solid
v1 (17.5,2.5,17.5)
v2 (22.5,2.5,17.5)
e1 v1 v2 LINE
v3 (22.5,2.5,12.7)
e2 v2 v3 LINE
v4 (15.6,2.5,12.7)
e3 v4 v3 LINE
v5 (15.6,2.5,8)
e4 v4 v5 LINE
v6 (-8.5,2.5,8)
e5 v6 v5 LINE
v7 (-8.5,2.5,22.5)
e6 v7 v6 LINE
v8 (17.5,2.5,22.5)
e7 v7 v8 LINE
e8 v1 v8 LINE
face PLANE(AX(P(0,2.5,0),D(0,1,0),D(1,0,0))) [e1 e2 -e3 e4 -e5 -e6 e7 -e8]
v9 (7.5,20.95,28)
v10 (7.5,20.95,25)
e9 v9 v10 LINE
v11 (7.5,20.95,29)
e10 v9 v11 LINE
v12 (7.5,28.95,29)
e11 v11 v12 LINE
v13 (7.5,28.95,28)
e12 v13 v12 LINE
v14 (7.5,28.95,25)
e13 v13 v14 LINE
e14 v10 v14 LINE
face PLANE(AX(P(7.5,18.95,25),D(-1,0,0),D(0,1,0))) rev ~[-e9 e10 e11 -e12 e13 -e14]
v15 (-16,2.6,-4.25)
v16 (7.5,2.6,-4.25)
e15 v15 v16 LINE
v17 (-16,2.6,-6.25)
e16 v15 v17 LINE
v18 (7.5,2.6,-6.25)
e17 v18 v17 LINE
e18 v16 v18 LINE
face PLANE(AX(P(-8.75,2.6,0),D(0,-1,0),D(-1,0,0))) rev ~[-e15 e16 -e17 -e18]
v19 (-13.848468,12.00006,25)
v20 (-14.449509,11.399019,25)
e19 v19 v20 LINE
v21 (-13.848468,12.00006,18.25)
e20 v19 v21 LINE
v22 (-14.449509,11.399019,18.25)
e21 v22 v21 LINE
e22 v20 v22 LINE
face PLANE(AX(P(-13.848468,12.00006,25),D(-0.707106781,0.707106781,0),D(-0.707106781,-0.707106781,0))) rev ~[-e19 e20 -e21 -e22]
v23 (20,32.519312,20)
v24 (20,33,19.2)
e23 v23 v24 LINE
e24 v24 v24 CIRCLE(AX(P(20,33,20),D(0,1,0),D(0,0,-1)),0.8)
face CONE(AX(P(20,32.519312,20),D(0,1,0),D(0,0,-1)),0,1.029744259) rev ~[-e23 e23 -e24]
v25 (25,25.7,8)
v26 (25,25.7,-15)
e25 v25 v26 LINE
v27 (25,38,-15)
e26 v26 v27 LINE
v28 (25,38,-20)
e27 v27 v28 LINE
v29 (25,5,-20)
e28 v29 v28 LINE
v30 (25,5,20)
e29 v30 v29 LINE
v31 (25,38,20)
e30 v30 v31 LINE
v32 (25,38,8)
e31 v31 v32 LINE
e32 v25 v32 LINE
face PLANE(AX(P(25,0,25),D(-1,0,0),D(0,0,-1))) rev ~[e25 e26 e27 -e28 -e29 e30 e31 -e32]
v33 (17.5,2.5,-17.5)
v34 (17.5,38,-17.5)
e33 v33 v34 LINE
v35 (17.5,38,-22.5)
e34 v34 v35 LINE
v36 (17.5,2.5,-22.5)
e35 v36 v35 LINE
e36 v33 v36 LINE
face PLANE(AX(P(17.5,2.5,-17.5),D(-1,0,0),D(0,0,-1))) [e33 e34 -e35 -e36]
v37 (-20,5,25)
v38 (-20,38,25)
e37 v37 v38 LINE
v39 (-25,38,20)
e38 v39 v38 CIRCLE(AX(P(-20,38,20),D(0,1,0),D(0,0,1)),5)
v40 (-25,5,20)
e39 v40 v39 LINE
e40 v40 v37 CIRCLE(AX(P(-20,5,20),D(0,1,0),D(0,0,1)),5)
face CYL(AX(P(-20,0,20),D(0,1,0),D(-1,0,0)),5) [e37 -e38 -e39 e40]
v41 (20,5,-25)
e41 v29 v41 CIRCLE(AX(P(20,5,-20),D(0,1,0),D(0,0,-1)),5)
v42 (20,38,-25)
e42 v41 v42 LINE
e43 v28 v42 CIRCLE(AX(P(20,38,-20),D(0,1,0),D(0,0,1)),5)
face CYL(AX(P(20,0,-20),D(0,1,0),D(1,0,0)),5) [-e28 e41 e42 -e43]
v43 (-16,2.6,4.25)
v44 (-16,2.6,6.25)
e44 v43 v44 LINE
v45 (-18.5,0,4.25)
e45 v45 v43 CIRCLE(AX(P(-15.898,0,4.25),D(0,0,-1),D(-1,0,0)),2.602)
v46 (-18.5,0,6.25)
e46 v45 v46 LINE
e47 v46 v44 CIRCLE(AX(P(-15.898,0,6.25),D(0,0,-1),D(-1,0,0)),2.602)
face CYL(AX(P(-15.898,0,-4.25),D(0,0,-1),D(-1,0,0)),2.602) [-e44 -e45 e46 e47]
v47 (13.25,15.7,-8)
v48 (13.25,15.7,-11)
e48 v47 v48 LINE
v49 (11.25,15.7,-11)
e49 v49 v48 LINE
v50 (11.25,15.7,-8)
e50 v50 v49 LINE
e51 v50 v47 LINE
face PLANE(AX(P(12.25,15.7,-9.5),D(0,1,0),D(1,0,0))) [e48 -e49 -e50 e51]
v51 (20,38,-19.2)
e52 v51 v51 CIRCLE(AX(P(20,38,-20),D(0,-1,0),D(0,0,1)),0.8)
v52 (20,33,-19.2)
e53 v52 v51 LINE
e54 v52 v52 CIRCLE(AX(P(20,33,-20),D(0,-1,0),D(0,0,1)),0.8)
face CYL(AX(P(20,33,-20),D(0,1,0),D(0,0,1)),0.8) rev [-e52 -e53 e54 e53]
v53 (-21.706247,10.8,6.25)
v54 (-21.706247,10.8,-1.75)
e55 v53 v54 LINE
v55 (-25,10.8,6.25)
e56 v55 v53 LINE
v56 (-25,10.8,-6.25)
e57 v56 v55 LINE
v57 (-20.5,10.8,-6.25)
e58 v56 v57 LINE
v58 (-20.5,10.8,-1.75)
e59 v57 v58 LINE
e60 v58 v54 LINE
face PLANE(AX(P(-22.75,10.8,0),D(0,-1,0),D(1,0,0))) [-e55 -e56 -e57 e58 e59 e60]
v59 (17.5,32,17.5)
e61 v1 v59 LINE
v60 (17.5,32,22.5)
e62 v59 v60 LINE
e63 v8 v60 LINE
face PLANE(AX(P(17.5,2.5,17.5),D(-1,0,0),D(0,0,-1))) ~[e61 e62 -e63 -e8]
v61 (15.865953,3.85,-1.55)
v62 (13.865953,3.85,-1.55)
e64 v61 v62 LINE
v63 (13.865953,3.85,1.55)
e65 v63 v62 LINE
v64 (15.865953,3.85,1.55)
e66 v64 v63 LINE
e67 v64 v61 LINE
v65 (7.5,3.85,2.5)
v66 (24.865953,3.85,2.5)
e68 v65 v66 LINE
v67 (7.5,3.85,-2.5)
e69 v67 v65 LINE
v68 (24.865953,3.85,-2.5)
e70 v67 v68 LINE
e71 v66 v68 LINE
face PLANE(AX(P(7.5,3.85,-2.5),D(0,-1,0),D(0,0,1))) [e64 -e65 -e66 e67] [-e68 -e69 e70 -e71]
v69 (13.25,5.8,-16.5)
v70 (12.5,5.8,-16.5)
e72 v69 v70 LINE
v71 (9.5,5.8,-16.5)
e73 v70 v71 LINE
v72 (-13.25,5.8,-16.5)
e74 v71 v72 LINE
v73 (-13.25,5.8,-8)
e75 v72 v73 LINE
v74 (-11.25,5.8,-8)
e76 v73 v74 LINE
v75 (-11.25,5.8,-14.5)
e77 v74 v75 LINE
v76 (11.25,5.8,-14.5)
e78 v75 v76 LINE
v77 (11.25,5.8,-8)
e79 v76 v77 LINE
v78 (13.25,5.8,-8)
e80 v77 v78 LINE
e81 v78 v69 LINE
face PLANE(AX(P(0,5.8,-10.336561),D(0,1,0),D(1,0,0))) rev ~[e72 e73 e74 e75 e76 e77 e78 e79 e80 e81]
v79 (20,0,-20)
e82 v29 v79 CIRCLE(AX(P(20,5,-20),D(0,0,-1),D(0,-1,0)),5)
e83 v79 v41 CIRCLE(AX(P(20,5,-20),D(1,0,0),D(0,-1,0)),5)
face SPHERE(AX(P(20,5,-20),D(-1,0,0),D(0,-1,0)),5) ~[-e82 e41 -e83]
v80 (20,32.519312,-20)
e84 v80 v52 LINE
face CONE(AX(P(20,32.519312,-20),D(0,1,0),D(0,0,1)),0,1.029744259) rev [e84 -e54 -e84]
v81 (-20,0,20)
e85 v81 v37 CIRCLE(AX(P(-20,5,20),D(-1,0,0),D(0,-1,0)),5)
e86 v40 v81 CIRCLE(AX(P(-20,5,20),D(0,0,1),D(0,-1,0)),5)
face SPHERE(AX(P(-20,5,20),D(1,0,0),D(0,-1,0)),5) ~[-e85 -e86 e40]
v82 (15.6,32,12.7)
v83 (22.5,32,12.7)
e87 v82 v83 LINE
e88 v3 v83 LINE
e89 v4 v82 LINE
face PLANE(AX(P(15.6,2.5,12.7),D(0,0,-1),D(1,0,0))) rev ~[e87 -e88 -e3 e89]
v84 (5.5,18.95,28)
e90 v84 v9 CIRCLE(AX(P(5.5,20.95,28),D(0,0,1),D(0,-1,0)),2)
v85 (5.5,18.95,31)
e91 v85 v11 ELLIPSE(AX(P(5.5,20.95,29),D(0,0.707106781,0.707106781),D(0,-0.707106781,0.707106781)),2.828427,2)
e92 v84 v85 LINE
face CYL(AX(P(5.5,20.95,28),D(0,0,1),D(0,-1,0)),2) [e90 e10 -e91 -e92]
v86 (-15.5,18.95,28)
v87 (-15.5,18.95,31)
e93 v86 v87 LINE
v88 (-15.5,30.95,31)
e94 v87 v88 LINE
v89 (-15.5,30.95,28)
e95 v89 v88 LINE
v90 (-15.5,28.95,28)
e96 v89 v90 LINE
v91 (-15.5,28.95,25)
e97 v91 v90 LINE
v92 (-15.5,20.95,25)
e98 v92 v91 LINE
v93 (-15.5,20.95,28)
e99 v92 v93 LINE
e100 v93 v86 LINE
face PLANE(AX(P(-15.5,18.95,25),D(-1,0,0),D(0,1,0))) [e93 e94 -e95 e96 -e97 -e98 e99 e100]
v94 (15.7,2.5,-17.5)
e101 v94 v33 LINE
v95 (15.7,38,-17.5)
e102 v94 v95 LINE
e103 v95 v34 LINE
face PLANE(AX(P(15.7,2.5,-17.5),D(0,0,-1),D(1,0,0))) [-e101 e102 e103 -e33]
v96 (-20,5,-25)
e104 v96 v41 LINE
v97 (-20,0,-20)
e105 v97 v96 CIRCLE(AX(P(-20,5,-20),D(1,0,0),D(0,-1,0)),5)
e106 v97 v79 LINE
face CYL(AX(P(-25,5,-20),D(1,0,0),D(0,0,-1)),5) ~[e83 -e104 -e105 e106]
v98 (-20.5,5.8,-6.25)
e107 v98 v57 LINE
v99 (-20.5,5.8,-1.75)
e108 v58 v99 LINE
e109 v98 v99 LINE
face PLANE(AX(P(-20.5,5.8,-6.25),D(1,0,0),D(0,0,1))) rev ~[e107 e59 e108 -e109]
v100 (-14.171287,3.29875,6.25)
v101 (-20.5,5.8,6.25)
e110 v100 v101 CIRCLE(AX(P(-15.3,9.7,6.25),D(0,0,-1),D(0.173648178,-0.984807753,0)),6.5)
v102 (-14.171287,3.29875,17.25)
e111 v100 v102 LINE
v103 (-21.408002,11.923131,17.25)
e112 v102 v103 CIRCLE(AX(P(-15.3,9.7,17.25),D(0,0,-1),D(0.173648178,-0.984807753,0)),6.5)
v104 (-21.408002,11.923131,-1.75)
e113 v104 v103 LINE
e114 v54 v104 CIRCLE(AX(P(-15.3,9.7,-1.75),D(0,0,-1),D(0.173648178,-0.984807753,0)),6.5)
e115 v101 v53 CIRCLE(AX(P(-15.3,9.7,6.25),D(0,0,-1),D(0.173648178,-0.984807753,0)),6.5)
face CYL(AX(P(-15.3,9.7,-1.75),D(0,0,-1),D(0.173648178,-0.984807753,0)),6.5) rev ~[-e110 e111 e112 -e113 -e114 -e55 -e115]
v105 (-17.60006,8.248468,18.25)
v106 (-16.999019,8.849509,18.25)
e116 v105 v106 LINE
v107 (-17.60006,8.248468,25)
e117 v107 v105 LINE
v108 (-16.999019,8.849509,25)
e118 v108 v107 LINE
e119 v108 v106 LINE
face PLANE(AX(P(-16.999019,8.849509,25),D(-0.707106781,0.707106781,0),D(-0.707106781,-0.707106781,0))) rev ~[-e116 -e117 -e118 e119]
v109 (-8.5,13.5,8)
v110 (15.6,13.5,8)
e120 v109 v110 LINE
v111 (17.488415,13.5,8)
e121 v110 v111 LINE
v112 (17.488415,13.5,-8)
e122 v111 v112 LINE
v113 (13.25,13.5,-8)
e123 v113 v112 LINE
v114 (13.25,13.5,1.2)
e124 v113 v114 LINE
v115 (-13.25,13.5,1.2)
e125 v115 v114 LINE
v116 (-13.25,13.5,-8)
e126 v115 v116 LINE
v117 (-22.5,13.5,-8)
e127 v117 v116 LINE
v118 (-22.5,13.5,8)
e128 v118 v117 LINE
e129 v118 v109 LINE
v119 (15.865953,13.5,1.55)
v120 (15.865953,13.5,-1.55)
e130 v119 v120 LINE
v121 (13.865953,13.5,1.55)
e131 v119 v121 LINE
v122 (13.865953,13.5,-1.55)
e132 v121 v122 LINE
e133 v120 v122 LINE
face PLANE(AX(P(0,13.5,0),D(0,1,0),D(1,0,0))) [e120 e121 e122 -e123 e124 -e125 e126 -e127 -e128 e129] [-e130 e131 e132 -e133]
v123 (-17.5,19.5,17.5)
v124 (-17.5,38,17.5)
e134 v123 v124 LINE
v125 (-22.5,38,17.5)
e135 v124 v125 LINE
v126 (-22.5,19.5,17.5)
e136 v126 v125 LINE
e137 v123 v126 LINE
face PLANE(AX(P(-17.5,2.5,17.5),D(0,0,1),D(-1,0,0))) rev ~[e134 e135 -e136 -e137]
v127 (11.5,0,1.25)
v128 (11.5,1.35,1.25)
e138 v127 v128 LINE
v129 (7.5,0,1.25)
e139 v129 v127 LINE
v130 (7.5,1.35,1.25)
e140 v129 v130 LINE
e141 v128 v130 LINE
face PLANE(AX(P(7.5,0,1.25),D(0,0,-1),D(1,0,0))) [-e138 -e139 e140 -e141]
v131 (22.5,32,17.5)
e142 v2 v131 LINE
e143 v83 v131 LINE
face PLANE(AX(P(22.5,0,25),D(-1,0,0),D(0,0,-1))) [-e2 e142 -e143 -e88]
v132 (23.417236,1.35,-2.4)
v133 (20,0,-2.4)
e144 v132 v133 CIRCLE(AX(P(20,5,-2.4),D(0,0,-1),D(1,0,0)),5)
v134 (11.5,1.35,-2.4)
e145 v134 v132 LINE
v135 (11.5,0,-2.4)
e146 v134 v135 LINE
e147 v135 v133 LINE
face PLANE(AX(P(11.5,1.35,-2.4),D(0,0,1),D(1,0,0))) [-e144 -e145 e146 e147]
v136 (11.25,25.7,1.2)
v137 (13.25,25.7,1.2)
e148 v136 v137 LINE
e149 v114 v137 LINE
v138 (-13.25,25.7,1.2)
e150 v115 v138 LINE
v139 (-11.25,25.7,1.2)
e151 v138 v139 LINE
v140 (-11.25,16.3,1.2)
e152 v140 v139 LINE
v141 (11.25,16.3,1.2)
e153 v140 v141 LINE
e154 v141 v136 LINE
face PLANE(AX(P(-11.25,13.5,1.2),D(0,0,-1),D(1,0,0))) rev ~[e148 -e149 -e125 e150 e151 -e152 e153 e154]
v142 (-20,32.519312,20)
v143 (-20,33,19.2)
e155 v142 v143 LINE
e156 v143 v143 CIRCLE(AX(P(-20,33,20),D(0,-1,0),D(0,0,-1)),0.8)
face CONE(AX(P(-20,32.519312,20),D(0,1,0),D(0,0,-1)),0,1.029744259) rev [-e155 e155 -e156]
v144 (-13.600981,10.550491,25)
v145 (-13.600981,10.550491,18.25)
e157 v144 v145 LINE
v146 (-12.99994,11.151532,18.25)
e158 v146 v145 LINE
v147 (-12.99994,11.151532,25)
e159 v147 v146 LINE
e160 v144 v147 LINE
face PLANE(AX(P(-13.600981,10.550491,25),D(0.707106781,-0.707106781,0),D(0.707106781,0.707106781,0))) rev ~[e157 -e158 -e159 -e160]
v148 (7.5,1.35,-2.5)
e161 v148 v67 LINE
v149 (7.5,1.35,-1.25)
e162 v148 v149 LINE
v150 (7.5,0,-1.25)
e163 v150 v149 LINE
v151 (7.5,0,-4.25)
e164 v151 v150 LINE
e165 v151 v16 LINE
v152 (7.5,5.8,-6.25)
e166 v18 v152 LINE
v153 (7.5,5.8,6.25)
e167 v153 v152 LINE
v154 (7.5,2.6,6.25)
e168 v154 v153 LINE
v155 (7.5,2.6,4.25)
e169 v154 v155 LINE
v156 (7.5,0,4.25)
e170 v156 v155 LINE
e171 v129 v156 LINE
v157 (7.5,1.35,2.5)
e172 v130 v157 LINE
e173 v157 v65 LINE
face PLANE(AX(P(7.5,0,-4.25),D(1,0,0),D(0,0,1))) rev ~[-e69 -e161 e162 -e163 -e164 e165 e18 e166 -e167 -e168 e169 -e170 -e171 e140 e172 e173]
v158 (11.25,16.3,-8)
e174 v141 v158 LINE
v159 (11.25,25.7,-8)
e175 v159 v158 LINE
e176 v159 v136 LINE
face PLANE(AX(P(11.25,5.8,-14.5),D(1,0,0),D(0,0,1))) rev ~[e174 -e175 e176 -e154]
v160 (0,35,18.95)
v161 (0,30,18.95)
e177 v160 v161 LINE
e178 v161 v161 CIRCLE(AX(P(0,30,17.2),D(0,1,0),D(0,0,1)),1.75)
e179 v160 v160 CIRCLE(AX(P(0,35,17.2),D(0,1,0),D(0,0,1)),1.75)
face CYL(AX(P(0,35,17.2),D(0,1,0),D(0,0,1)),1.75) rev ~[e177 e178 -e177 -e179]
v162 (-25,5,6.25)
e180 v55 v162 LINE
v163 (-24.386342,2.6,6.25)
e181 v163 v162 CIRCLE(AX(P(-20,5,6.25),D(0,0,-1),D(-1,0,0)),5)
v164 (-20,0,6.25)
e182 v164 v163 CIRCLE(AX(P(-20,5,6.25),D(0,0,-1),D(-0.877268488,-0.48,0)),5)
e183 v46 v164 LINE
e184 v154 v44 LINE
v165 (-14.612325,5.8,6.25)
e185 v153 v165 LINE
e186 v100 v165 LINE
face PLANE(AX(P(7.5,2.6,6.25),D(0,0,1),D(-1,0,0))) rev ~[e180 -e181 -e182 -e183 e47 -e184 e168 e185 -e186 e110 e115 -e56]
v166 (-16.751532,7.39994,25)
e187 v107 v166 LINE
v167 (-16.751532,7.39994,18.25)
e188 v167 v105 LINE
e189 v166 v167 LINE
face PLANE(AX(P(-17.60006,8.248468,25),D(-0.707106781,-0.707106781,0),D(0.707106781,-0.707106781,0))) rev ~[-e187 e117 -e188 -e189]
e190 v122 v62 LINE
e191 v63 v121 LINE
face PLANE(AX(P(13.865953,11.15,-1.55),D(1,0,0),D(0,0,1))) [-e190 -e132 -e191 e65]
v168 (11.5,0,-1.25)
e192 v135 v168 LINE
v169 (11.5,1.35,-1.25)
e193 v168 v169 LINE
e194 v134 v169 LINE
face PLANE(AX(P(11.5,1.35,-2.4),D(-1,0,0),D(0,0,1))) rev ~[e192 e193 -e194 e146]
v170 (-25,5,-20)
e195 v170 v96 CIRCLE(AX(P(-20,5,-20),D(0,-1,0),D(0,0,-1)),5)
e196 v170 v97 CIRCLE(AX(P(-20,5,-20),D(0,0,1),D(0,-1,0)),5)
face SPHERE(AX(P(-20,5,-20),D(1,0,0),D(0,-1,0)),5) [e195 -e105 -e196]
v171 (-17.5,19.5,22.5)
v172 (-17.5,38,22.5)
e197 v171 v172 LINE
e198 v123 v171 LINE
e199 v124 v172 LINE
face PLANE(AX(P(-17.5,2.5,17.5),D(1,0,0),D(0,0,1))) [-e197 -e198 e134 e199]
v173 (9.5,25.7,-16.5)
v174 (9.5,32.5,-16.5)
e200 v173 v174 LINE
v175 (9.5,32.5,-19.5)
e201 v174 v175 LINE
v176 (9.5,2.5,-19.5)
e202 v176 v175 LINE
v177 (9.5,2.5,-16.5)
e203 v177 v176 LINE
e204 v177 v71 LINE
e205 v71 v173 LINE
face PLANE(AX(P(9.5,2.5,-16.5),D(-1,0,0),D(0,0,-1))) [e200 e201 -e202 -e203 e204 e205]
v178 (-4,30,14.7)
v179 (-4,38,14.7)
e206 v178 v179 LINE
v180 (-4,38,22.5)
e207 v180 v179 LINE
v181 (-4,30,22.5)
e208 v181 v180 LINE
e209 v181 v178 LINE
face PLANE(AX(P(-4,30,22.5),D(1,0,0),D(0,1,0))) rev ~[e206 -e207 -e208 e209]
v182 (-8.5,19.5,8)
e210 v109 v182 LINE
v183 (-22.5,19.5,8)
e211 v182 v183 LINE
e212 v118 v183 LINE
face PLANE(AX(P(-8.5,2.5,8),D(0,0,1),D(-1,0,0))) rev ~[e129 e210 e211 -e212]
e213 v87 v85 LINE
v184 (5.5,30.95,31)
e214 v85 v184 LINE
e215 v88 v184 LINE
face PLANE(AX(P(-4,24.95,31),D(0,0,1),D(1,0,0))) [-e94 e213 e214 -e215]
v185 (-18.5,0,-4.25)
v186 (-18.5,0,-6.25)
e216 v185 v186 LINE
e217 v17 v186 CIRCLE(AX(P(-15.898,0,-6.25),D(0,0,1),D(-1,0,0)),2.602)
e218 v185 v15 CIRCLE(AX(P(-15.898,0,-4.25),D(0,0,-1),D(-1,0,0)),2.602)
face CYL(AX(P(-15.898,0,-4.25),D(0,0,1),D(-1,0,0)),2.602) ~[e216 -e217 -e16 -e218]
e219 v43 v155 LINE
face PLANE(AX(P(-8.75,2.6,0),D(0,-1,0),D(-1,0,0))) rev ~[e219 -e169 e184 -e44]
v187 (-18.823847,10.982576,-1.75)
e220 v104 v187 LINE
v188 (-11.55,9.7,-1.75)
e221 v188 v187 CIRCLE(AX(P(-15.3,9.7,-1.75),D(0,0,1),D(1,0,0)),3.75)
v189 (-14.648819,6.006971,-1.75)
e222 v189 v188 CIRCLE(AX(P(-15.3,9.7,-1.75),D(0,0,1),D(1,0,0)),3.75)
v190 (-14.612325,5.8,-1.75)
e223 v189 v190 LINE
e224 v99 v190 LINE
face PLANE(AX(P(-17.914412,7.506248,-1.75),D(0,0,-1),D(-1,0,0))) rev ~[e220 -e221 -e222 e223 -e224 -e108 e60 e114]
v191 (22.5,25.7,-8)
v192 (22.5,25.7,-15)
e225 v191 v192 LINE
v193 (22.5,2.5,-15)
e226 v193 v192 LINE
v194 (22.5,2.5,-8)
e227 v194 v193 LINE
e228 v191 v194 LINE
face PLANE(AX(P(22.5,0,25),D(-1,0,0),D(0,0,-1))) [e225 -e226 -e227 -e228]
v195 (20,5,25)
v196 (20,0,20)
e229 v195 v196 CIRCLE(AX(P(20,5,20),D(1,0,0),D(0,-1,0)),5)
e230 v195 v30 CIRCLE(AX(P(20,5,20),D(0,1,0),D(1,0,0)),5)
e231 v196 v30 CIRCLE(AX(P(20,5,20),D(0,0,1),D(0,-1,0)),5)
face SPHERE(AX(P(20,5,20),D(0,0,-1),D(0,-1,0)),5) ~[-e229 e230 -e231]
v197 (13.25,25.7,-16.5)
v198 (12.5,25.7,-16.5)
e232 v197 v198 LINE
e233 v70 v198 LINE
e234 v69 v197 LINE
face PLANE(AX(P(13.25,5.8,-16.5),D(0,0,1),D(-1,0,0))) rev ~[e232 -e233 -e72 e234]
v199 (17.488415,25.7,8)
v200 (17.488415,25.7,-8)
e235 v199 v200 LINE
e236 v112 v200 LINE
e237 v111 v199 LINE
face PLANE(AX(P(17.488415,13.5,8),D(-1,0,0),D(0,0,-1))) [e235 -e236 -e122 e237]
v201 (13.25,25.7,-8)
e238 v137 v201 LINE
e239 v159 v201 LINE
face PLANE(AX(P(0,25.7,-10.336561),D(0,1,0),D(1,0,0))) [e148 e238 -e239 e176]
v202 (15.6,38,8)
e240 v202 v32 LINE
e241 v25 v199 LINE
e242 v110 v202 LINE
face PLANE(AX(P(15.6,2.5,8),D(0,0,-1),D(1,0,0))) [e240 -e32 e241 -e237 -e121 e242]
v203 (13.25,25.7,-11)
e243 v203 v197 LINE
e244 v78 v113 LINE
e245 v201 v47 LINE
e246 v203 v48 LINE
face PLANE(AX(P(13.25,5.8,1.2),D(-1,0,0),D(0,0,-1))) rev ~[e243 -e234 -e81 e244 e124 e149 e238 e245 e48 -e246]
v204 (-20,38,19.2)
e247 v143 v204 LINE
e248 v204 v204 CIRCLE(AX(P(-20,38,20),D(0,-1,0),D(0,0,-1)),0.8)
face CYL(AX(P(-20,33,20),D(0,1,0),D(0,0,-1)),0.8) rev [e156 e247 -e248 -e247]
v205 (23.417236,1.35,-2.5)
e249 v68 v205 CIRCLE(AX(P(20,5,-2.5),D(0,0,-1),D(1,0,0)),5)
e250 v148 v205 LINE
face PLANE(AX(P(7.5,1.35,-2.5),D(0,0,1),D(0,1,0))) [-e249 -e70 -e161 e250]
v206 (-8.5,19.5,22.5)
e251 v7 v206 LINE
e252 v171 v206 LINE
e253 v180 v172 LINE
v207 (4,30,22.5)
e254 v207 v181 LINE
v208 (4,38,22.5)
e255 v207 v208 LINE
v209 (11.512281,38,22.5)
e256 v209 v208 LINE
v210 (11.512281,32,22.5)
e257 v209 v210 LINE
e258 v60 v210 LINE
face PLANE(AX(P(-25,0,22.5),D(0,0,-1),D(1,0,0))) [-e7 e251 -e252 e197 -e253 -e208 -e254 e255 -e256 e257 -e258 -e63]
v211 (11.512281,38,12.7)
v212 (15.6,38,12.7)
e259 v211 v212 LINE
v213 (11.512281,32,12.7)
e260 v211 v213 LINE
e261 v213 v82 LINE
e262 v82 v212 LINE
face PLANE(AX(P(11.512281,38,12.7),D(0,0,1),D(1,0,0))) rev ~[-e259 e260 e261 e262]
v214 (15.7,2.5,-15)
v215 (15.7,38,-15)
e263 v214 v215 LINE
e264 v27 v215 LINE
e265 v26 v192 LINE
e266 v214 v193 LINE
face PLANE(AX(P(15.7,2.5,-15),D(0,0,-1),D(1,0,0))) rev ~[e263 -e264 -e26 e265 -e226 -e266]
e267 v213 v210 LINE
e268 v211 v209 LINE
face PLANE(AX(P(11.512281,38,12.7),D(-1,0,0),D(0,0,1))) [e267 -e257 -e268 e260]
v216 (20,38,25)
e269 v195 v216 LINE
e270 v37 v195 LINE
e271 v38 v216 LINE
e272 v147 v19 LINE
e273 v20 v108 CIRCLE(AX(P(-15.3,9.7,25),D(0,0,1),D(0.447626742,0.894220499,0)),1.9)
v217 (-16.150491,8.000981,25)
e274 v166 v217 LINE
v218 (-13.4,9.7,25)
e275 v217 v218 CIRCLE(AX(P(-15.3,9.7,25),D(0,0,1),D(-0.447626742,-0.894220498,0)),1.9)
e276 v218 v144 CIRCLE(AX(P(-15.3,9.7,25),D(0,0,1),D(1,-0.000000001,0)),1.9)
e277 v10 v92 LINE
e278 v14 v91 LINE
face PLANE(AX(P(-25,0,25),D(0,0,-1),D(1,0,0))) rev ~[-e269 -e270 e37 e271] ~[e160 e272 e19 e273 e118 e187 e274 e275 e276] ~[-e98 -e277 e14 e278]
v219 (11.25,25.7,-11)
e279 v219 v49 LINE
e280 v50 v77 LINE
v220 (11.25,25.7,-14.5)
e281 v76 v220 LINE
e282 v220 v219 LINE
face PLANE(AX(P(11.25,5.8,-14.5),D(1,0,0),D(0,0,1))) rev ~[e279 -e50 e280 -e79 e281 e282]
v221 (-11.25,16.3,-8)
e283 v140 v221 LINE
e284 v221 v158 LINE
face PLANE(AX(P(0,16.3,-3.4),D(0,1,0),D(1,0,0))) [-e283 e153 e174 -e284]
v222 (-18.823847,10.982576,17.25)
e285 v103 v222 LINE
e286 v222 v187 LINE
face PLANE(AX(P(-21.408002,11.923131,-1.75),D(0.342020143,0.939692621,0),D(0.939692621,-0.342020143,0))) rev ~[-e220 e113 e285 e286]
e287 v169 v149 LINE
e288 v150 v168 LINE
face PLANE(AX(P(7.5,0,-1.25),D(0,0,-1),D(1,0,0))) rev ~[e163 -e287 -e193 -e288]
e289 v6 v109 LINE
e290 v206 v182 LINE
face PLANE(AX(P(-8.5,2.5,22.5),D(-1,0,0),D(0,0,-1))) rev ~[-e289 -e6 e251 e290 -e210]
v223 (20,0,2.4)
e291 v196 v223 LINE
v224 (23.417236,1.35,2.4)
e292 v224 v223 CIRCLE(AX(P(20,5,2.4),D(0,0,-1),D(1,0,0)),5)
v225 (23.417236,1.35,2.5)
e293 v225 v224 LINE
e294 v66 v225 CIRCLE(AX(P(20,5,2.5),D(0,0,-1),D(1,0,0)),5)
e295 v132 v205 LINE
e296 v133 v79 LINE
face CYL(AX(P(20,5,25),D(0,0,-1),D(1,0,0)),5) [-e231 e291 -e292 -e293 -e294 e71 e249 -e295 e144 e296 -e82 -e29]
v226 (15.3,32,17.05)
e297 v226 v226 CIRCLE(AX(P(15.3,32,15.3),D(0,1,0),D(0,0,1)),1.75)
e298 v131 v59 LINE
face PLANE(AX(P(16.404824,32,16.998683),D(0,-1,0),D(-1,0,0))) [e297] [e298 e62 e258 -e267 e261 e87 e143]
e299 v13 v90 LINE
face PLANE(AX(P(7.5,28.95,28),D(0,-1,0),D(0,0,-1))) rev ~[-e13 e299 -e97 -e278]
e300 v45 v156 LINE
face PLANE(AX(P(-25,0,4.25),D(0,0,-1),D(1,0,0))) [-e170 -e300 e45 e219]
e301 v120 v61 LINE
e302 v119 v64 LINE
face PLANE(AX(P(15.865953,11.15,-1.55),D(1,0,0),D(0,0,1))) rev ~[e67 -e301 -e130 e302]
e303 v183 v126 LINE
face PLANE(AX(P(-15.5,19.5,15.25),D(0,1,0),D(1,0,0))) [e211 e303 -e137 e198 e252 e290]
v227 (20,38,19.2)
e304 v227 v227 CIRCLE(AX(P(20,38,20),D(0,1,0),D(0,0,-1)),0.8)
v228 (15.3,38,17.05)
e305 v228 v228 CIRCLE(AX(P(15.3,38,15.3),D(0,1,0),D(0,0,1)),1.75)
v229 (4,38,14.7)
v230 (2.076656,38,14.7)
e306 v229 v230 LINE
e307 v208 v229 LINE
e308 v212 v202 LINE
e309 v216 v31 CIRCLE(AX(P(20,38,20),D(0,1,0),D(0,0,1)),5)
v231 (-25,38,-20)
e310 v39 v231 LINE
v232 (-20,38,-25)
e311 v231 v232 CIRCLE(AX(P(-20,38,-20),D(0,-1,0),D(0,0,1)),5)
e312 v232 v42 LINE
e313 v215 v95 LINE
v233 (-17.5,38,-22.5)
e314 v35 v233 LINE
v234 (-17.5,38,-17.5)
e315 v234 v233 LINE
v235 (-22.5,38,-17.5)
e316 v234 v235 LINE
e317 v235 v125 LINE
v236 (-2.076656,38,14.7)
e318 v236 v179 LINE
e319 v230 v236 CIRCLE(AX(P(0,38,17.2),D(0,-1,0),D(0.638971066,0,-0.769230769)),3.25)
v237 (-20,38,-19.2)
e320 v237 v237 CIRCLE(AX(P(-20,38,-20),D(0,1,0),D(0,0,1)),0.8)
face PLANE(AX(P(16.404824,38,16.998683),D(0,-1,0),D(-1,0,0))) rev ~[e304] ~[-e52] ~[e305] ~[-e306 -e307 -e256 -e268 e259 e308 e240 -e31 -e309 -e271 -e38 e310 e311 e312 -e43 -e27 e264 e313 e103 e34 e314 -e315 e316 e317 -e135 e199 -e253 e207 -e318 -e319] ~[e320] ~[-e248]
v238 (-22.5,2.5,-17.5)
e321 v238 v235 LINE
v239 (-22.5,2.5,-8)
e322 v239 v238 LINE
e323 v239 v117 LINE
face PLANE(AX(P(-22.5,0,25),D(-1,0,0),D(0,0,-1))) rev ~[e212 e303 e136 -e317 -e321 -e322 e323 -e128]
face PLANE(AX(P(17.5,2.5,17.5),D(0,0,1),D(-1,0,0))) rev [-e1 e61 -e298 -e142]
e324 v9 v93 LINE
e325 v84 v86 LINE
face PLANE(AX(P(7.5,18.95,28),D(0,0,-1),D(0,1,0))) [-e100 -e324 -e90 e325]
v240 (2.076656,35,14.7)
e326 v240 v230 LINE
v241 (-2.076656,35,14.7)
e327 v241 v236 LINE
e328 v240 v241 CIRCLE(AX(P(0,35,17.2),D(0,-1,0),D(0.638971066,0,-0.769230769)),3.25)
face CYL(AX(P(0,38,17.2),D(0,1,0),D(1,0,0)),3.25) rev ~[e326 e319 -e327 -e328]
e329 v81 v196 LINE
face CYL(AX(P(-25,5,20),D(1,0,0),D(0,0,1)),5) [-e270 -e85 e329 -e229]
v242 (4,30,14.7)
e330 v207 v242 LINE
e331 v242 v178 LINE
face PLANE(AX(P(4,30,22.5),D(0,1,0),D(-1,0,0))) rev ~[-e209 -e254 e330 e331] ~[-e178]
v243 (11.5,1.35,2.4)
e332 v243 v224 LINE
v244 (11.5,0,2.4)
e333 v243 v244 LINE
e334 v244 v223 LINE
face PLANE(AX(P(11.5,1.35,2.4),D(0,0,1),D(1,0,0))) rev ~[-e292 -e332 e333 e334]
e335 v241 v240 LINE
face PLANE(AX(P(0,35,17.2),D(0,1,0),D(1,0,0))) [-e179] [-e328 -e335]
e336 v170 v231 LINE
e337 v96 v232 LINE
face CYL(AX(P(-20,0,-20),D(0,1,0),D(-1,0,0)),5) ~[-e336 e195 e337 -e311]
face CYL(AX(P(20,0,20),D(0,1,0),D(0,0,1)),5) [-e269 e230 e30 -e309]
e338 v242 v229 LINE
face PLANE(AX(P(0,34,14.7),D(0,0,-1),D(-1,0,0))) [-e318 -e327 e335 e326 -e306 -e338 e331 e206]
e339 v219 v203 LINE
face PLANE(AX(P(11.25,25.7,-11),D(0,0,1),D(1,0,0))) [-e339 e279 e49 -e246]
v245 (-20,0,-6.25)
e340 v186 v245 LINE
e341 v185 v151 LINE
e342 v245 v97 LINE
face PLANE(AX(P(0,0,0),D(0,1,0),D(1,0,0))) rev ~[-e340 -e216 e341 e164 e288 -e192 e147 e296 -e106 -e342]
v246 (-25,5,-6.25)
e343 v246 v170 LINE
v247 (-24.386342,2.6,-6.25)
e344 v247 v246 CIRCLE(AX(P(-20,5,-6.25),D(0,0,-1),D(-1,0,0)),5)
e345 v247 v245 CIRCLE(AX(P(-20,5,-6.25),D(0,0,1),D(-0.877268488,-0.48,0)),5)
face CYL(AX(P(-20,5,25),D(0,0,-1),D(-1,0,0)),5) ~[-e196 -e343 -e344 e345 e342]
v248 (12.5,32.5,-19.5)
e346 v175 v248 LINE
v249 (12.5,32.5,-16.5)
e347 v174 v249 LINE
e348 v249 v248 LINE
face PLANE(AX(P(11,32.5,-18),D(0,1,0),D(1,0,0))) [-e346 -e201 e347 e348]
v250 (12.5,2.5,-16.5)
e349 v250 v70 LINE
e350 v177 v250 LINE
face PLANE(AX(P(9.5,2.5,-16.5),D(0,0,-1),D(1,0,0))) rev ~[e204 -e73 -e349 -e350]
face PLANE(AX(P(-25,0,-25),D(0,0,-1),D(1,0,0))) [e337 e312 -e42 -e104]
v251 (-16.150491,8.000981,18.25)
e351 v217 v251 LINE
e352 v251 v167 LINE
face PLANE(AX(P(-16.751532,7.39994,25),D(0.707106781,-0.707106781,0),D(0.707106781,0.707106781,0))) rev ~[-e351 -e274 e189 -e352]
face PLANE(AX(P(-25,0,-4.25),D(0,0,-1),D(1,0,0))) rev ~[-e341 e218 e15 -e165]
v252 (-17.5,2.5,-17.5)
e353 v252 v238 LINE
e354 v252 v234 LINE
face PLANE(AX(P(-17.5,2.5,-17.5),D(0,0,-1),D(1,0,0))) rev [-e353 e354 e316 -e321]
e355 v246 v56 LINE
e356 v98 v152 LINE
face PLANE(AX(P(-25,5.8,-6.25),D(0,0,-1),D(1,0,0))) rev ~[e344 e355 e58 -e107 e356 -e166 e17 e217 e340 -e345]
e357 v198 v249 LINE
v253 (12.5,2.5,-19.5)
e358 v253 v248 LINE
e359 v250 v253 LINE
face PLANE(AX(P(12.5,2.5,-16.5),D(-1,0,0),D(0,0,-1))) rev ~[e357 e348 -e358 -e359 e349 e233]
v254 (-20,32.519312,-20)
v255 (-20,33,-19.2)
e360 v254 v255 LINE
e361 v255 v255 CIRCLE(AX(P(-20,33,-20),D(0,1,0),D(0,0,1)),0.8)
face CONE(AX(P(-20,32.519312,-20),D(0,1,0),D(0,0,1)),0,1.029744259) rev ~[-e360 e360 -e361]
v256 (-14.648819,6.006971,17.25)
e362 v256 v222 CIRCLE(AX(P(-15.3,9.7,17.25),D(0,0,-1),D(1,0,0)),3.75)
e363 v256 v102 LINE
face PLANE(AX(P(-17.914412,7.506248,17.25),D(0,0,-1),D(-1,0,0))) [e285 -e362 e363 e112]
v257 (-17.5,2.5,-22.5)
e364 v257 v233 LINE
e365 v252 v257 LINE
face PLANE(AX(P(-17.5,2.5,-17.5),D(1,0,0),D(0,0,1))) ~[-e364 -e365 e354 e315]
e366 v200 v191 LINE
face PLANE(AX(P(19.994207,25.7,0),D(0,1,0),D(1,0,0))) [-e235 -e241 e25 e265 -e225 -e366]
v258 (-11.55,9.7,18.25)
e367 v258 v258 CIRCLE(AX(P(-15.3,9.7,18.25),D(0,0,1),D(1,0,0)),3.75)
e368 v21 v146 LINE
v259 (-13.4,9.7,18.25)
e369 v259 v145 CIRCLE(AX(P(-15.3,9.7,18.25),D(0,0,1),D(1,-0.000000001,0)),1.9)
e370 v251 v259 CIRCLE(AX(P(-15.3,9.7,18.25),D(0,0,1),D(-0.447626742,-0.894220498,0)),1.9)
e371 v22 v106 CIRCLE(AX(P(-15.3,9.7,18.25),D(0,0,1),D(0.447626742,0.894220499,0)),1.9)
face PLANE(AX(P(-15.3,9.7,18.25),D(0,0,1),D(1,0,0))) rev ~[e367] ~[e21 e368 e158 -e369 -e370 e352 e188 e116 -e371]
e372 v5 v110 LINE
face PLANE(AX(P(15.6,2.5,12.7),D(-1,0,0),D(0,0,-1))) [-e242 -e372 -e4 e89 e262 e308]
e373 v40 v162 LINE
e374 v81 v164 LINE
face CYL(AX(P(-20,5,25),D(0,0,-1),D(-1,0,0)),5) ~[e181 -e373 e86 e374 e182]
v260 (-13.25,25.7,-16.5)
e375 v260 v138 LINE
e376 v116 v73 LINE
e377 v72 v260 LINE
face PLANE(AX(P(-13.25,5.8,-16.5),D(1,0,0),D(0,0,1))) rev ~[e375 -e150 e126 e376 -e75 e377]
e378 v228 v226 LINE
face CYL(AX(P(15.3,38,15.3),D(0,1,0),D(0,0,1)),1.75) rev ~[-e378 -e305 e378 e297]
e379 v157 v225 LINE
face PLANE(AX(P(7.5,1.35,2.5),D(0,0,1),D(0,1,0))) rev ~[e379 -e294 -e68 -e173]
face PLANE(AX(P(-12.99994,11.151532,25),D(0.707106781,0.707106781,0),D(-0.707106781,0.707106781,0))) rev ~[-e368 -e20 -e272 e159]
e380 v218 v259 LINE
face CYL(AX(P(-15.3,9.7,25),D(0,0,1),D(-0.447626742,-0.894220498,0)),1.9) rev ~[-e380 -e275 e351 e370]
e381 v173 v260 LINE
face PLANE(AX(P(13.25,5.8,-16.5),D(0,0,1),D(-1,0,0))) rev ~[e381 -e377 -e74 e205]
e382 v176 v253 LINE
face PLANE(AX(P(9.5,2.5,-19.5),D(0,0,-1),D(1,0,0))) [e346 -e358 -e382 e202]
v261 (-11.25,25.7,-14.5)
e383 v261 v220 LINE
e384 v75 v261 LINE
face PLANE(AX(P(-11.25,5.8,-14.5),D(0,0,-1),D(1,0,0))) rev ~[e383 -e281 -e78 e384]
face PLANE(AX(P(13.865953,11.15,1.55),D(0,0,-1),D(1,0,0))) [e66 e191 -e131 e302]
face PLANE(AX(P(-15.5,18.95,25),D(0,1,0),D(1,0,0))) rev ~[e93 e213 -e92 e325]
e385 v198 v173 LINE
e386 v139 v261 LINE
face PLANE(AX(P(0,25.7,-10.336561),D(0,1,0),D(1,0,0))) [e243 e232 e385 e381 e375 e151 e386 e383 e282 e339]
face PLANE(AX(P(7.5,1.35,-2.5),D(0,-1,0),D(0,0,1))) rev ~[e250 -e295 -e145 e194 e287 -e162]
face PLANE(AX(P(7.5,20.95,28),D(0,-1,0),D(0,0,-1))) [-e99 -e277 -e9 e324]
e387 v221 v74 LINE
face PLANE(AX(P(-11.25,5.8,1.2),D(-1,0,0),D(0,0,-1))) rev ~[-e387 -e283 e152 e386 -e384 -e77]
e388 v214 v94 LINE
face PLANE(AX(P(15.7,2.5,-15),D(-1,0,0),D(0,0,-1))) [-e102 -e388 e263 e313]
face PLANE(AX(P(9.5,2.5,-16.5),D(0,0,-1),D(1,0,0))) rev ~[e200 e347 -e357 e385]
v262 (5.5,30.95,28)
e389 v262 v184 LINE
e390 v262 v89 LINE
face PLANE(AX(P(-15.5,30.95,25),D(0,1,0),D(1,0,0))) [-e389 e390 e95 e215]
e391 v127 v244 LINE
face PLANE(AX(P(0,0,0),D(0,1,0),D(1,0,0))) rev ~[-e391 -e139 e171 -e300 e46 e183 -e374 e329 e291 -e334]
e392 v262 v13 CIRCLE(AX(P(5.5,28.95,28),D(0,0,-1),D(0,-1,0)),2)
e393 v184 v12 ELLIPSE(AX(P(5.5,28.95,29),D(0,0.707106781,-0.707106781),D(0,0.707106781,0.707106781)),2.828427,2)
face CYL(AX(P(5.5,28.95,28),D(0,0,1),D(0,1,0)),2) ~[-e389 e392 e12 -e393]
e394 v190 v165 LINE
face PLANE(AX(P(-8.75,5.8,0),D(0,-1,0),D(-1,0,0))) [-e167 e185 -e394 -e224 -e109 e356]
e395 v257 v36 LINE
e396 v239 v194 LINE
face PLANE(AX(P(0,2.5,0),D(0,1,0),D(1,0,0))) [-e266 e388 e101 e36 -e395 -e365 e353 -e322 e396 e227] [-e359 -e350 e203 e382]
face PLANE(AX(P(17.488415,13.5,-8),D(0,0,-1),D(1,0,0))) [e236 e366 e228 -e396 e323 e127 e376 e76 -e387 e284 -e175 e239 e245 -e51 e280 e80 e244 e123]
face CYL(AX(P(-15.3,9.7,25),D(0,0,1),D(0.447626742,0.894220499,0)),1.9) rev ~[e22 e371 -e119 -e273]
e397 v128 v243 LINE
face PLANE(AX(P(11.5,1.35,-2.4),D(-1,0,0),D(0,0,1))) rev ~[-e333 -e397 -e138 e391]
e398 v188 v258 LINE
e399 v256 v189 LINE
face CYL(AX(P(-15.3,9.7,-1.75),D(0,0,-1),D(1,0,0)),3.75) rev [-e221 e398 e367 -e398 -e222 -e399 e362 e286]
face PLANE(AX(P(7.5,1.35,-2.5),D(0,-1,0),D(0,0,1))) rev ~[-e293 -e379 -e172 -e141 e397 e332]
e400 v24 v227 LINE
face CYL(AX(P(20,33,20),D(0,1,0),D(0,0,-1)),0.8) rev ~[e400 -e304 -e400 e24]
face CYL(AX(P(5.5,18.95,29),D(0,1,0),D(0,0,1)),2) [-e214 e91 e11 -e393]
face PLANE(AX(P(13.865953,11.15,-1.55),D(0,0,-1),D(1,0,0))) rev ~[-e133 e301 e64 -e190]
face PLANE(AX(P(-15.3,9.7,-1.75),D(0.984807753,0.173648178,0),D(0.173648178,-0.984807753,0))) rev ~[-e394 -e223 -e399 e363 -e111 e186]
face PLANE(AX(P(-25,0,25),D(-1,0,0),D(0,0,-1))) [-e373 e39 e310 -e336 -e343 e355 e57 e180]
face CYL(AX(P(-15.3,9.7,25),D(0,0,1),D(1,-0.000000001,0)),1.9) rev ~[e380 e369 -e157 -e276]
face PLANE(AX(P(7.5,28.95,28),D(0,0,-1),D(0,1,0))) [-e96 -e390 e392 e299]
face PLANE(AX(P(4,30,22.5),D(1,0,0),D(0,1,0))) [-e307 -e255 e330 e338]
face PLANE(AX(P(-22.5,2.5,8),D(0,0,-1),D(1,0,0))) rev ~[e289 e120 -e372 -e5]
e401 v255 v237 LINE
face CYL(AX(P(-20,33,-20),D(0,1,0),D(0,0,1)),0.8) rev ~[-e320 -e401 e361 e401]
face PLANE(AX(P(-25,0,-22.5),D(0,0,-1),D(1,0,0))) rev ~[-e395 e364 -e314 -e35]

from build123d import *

# Parameters (mm, degrees)
SKETCH1_W                          = 50
SKETCH1_H                          = 50
BASE_SHELL_DEPTH                   = 38
SHELL1_T                           = -2.5
FILLET1_R                          = 5
SKETCH2_W                          = 23
SKETCH2_H                          = 12
LOCK_CONNECTOR_EXTRUDE_DEPTH       = 6
SKETCH3_W                          = 3
SKETCH3_H                          = 2
LOCK_CONNECTOR_CUT_DEPTH           = 59.832389039
LOCK_CONNECTOR_FILLET_R            = 2
SKETCH8_W                          = 45
SKETCH8_H                          = 16
BOTTOM_CONNECTOR_INSIDE_DEPTH      = 11
SKETCH10_W                         = 32.5
SKETCH10_H                         = 8.5
BOTTOM_FEMALE_BOTTOM_CUT_DEPTH     = 2.6
SKETCH7_W                          = 32.5
SKETCH7_H                          = 12.5
BOTTOM_FEMALE_TOP_CUT_DEPTH        = 3.2
ROUNDED_ENTRANCE_REACH             = 59.546
ROUNDED_ENTRANCE_DIRECTION_2_REACH = 59.546
SKETCH22_W                         = 5
SKETCH22_H                         = 2.5
HEADER_PIN_CUT_DEPTH               = 59.832389039
HEADER_PIN_HOLDER_REACH            = 57.045
SKETCH23_W                         = 17.365953144
SKETCH23_H                         = 2.5
SUPPORT_START                      = -1.35
SKETCH24_W                         = 13.365953144
SKETCH24_H                         = 4.8
SUPPORT_MATERIAL_CUT_DEPTH         = 1.35
SKETCH25_W                         = 2
SKETCH25_H                         = 3.1
WIRE_CUT_DEPTH                     = 7.3
SKETCH14_R                         = 1.25
LOCK_BOTTOM_SUPPORT_DEPTH          = 4.5
SKETCH27_W                         = 5
SKETCH27_H                         = 5
SCREW_PILLAR_DEPTH                 = 35.5
MIRROR2_COPY_1_SKETCH_W            = 5
MIRROR2_COPY_1_SKETCH_H            = 5
MIRROR2_COPY_1_DEPTH               = 35.5
SKETCH30_W                         = 6.9
SKETCH30_H                         = 4.7
BOSS_EXTRUDE2_DEPTH                = 35.5
CUT_EXTRUDE1_REACH                 = 72.036
SKETCH31_W                         = 23
SKETCH31_H                         = 12.3
SKETCH37_W                         = 5.011585452
SKETCH37_H                         = 16
SERVO1_BOTTOM_SUPPORT_DEPTH        = 12.2
SKETCH43_W                         = 6.8
SKETCH43_H                         = 2.5
BOSS_EXTRUDE7_DEPTH                = 35.5
SKETCH34_W                         = 8
SKETCH34_H                         = 8
BOSS_EXTRUDE4_DEPTH                = 7.8
SKETCH35_R                         = 3.25
SPRING_CUT_DEPTH                   = 3
SKETCH36_R                         = 1.75
TOP_SHELL_LOCK_CUT_DEPTH           = 8
BOSS_EXTRUDE3_DEPTH                = 6
SKETCH33_R                         = 1.75
CUT_EXTRUDE2_DEPTH                 = 6
BOSS_EXTRUDE6_DEPTH                = 19.9
SKETCH39_W                         = 2
SKETCH39_H                         = 3
CUT_EXTRUDE5_DEPTH                 = 10
SKETCH40_W                         = 22.5
SKETCH40_H                         = 9.2
SERVO2_BASE_DEPTH                  = 2.8
LOCK_SUPPORT_DEPTH                 = 17
LOCK_CUT_DEPTH                     = 19.5
SKETCH11_R                         = 3.75
SPRING_GAP_DEPTH                   = 20
FLANG_GAP_DEPTH                    = 19
SKETCH13_W                         = 4.5
SKETCH13_H                         = 12.5
LOCK_GAP_DEPTH                     = 5
SKETCH46_W                         = 3
SKETCH46_H                         = 3
BOSS_EXTRUDE9_DEPTH                = 30
SKETCH47_W                         = 2
SKETCH47_H                         = 3.1
CUT_EXTRUDE6_DEPTH                 = 49.030433061


with BuildPart() as part:
    # Sketch1 → base shell (new body)
    with BuildSketch(Plane(origin=(0, 0, 0), x_dir=(1, 0, 0), z_dir=(0, 1, 0))):
        Rectangle(SKETCH1_W, SKETCH1_H)
    extrude(amount=BASE_SHELL_DEPTH)

    # Shell1
    shell1_openings = [part.faces().sort_by_distance(p)[0] for p in [
        (0, 38, 0),
    ]]
    offset(amount=SHELL1_T, openings=shell1_openings, kind=Kind.INTERSECTION)

    # Fillet1
    fillet1_edges = [part.edges().sort_by_distance(p)[0] for p in [
        (0, 0, -25),
        (25, 0, 0),
        (0, 0, 25),
        (-25, 0, 0),
        (-25, 19, -25),
        (25, 19, -25),
        (25, 19, 25),
        (-25, 19, 25),
    ]]
    fillet(fillet1_edges, radius=FILLET1_R)

    # Sketch2 → lock connector extrude (add)
    with BuildSketch(Plane.XY.offset(25)):
        with Locations((-4, 24.95)):
            Rectangle(SKETCH2_W, SKETCH2_H)
    extrude(amount=LOCK_CONNECTOR_EXTRUDE_DEPTH)

    # Sketch3 → lock connector cut (cut, through all)
    with BuildSketch(Plane(origin=(7.5, 0, 0), x_dir=(0, 0, -1), z_dir=(1, 0, 0))):
        with Locations((-26.5, 19.95)):
            Rectangle(SKETCH3_W, SKETCH3_H)
        with Locations((-26.5, 29.95)):
            Rectangle(SKETCH3_W, SKETCH3_H)
    extrude(amount=-LOCK_CONNECTOR_CUT_DEPTH, mode=Mode.SUBTRACT)

    # lock connector fillet
    lock_connector_fillet_edges = [part.edges().sort_by_distance(p)[0] for p in [
        (7.5, 18.95, 29.5),
        (7.5, 30.95, 29.5),
        (7.5, 24.95, 31),
    ]]
    fillet(lock_connector_fillet_edges, radius=LOCK_CONNECTOR_FILLET_R)

    # Sketch8 → bottom connector inside (add)
    with BuildSketch(Plane(origin=(0, 2.5, 0), x_dir=(1, 0, 0), z_dir=(0, 1, 0))):
        Rectangle(SKETCH8_W, SKETCH8_H)
    extrude(amount=BOTTOM_CONNECTOR_INSIDE_DEPTH)

    # Sketch10 → bottom female bottom cut (cut)
    with BuildSketch(Plane.XZ):
        with Locations((-8.75, 0)):
            Rectangle(SKETCH10_W, SKETCH10_H)
    extrude(amount=-BOTTOM_FEMALE_BOTTOM_CUT_DEPTH, mode=Mode.SUBTRACT)

    # Sketch7 → bottom female top cut (cut)
    with BuildSketch(Plane(origin=(0, 2.6, 0), x_dir=(-1, 0, 0), z_dir=(0, -1, 0))):
        with Locations((8.75, 0)):
            Rectangle(SKETCH7_W, SKETCH7_H)
    extrude(amount=-BOTTOM_FEMALE_TOP_CUT_DEPTH, mode=Mode.SUBTRACT)

    # rounded entrance: up to this face of the body (flat: up to its plane)
    rounded_entrance_end = Plane(part.part.faces().sort_by_distance((-8.675775938, 4.204654531, -6.25))[0])
    # Sketch26 → rounded entrance (cut, up to the picked face)
    with BuildSketch(Plane.XY.offset(-4.25), mode=Mode.PRIVATE) as rounded_entrance_sk1:
        with BuildLine():
            Line((-16, 2.6), (-24.38634244, 2.6))
            ThreePointArc((-24.38634244, 2.6), (-22.549509757, 0.698837366), (-20, 0))
            Line((-20, 0), (-18.5, 0))
            ThreePointArc((-18.5, 0), (-17.773607635, 1.80346888), (-16, 2.6))
        make_face()
    rounded_entrance_tool1 = split(extrude(rounded_entrance_sk1.sketch, amount=-ROUNDED_ENTRANCE_REACH, mode=Mode.PRIVATE), bisect_by=rounded_entrance_end, keep=Keep.BOTH, mode=Mode.PRIVATE)
    add(rounded_entrance_tool1.solids().sort_by(Axis((-20.596969, 1.517539, -4.25), (0, 0, -1)))[0], mode=Mode.SUBTRACT)

    # rounded entrance direction 2: up to this face of the body (flat: up to its plane)
    rounded_entrance_direction_2_end = Plane(part.part.faces().sort_by_distance((-8.675775938, 4.204654531, 6.25))[0])
    # Sketch26 → rounded entrance direction 2 (cut, up to the picked face)
    with BuildSketch(Plane.XY.offset(-4.25), mode=Mode.PRIVATE) as rounded_entrance_direction_2_sk1:
        with BuildLine():
            Line((-16, 2.6), (-24.38634244, 2.6))
            ThreePointArc((-24.38634244, 2.6), (-22.549509757, 0.698837366), (-20, 0))
            Line((-20, 0), (-18.5, 0))
            ThreePointArc((-18.5, 0), (-17.773607635, 1.80346888), (-16, 2.6))
        make_face()
    rounded_entrance_direction_2_tool1 = split(extrude(rounded_entrance_direction_2_sk1.sketch, amount=ROUNDED_ENTRANCE_DIRECTION_2_REACH, mode=Mode.PRIVATE), bisect_by=rounded_entrance_direction_2_end, keep=Keep.BOTH, mode=Mode.PRIVATE)
    add(rounded_entrance_direction_2_tool1.solids().sort_by(Axis((-20.596969, 1.517539, -4.25), (0, 0, 1)))[0], mode=Mode.SUBTRACT)

    # Sketch22 → header pin cut (cut, through all)
    with BuildSketch(Plane.ZY.offset(-7.5)):
        with Locations((0, 2.6)):
            Rectangle(SKETCH22_W, SKETCH22_H)
    extrude(amount=-HEADER_PIN_CUT_DEPTH, mode=Mode.SUBTRACT)

    # Sketch23 → header pin holder (cut, up to next)
    with BuildSketch(Plane.XZ, mode=Mode.PRIVATE) as header_pin_holder_sk1:
        with Locations((16.182976572, 0)):
            Rectangle(SKETCH23_W, SKETCH23_H)
    header_pin_holder_tool1 = extrude(header_pin_holder_sk1.sketch, amount=-HEADER_PIN_HOLDER_REACH, mode=Mode.PRIVATE) & part.part
    add(header_pin_holder_tool1.solids().sort_by_distance((16.182977, 0, 0))[0], mode=Mode.SUBTRACT)

    # Sketch24 → support material cut (cut)
    with BuildSketch(Plane.XZ.offset(SUPPORT_START)):
        with Locations((18.182976572, 0)):
            Rectangle(SKETCH24_W, SKETCH24_H)
    extrude(amount=SUPPORT_MATERIAL_CUT_DEPTH, mode=Mode.SUBTRACT)

    # Sketch25 → wire cut (cut)
    with BuildSketch(Plane(origin=(0, 3.85, 0), x_dir=(-1, 0, 0), z_dir=(0, -1, 0))):
        with Locations((-14.865953144, 0)):
            Rectangle(SKETCH25_W, SKETCH25_H)
    extrude(amount=-WIRE_CUT_DEPTH, mode=Mode.SUBTRACT)

    # Sketch14 → Lock bottom support (add)
    with BuildSketch(Plane.XY.offset(-6.25)):
        with Locations((-15.3, 9.7)):
            Circle(SKETCH14_R)
    extrude(amount=LOCK_BOTTOM_SUPPORT_DEPTH)

    # Sketch27 → screw pillar (add)
    with BuildSketch(Plane(origin=(0, 2.5, 0), x_dir=(1, 0, 0), z_dir=(0, 1, 0))):
        with Locations((20, 20)):
            Rectangle(SKETCH27_W, SKETCH27_H)
    screw_pillar = extrude(amount=SCREW_PILLAR_DEPTH)

    # Sketch29 → M2 Tapped Hole1 (revolve, cut)
    with BuildSketch(Plane(origin=(20, 38, -20), x_dir=(0, 0, 1), z_dir=(1, 0, 0))):
        Polygon((0, 0), (0, 5.480688495), (0.8, 5), (0.8, 0), align=None)
    m2_tapped_hole1 = revolve(axis=Axis((20, 44.35, -20), (0, -1, 0)), mode=Mode.SUBTRACT)

    # Mirror1: screw pillar, M2 Tapped Hole1 across plane
    add(screw_pillar.mirror(Plane(origin=(0, 0, 0), x_dir=(0, 0, 1), z_dir=(1, 0, 0))))
    add(m2_tapped_hole1.mirror(Plane(origin=(0, 0, 0), x_dir=(0, 0, 1), z_dir=(1, 0, 0))), mode=Mode.SUBTRACT)

    # Mirror2: screw pillar, M2 Tapped Hole1 across plane
    add(screw_pillar.mirror(Plane.XY))
    add(m2_tapped_hole1.mirror(Plane.XY), mode=Mode.SUBTRACT)

    # Mirror2 copy 1 sketch → Mirror2 copy 1 (add)
    with BuildSketch(Plane(origin=(0, 2.5, 0), x_dir=(-1, 0, 0), z_dir=(0, 1, 0))):
        with Locations((20, 20)):
            Rectangle(MIRROR2_COPY_1_SKETCH_W, MIRROR2_COPY_1_SKETCH_H)
    extrude(amount=MIRROR2_COPY_1_DEPTH)

    # Mirror2 copy 2 sketch → Mirror2 copy 2 (revolve, cut)
    with BuildSketch(Plane(origin=(-20, 38, 20), x_dir=(0, 0, -1), z_dir=(-1, 0, 0))):
        Polygon((0, 0), (0, 5.480688495), (0.8, 5), (0.8, 0), align=None)
    revolve(axis=Axis((-20, 44.35, 20), (0, -1, 0)), mode=Mode.SUBTRACT)

    # Sketch30 → Boss-Extrude2 (add)
    with BuildSketch(Plane(origin=(0, 2.5, 0), x_dir=(1, 0, 0), z_dir=(0, 1, 0))):
        with Locations((19.05, -10.35)):
            Rectangle(SKETCH30_W, SKETCH30_H)
    extrude(amount=BOSS_EXTRUDE2_DEPTH)

    # Sketch31 → Cut-Extrude1 (cut, up to next)
    with BuildSketch(Plane(origin=(25, 0, 0), x_dir=(0, 0, -1), z_dir=(1, 0, 0)), mode=Mode.PRIVATE) as cut_extrude1_sk1:
        with Locations((3.5, 31.85)):
            Rectangle(SKETCH31_W, SKETCH31_H)
    cut_extrude1_tool1 = extrude(cut_extrude1_sk1.sketch, amount=-CUT_EXTRUDE1_REACH, mode=Mode.PRIVATE) & part.part
    add(cut_extrude1_tool1.solids().sort_by_distance((25, 31.85, -3.5))[0], mode=Mode.SUBTRACT)

    # Sketch37 → servo1 bottom support (add)
    with BuildSketch(Plane(origin=(0, 13.5, 0), x_dir=(1, 0, 0), z_dir=(0, 1, 0))):
        with Locations((19.994207274, 0)):
            Rectangle(SKETCH37_W, SKETCH37_H)
    extrude(amount=SERVO1_BOTTOM_SUPPORT_DEPTH)

    # Sketch43 → Boss-Extrude7 (add)
    with BuildSketch(Plane(origin=(0, 2.5, 0), x_dir=(1, 0, 0), z_dir=(0, 1, 0))):
        with Locations((19.1, 16.25)):
            Rectangle(SKETCH43_W, SKETCH43_H)
    extrude(amount=BOSS_EXTRUDE7_DEPTH)

    # Sketch34 → Boss-Extrude4 (add)
    with BuildSketch(Plane(origin=(0, 0, 22.5), x_dir=(-1, 0, 0), z_dir=(0, 0, -1))):
        with Locations((0, 34)):
            Rectangle(SKETCH34_W, SKETCH34_H)
    extrude(amount=BOSS_EXTRUDE4_DEPTH)

    # Sketch35 → spring cut (cut)
    with BuildSketch(Plane(origin=(0, 38, 0), x_dir=(1, 0, 0), z_dir=(0, 1, 0))):
        with Locations((0, -17.2)):
            Circle(SKETCH35_R)
    extrude(amount=-SPRING_CUT_DEPTH, mode=Mode.SUBTRACT)

    # Sketch36 → top shell lock cut (cut)
    with BuildSketch(Plane(origin=(0, 35, 0), x_dir=(1, 0, 0), z_dir=(0, 1, 0))):
        with Locations(Location((0, -17.2, 0), (0, 0, 270))):
            Circle(SKETCH36_R)
    extrude(amount=-TOP_SHELL_LOCK_CUT_DEPTH, mode=Mode.SUBTRACT)

    # Sketch32 → Boss-Extrude3 (add)
    with BuildSketch(Plane(origin=(0, 38, 0), x_dir=(1, 0, 0), z_dir=(0, 1, 0))):
        Polygon((22.5, -12.7), (22.5, -17.5), (17.5, -17.5), (17.5, -22.5), (11.512280993, -22.5), (11.512280993, -17.5), (11.512280993, -12.7), align=None)
    extrude(amount=-BOSS_EXTRUDE3_DEPTH)

    # Sketch33 → Cut-Extrude2 (cut)
    with BuildSketch(Plane(origin=(0, 38, 0), x_dir=(1, 0, 0), z_dir=(0, 1, 0))):
        with Locations(Location((15.3, -15.3, 0), (0, 0, 270))):
            Circle(SKETCH33_R)
    extrude(amount=-CUT_EXTRUDE2_DEPTH, mode=Mode.SUBTRACT)

    # Sketch38 → Boss-Extrude6 (add)
    with BuildSketch(Plane(origin=(0, 5.8, 0), x_dir=(1, 0, 0), z_dir=(0, 1, 0))):
        Polygon((13.25, 16.5), (-13.25, 16.5), (-13.25, -1.2), (-11.25, -1.2), (-11.25, 14.5), (11.25, 14.5), (11.25, -1.2), (13.25, -1.2), align=None)
    extrude(amount=BOSS_EXTRUDE6_DEPTH)

    # Sketch39 → Cut-Extrude5 (cut)
    with BuildSketch(Plane(origin=(0, 25.7, 0), x_dir=(1, 0, 0), z_dir=(0, 1, 0))):
        with Locations((12.25, 9.5)):
            Rectangle(SKETCH39_W, SKETCH39_H)
    extrude(amount=-CUT_EXTRUDE5_DEPTH, mode=Mode.SUBTRACT)

    # Sketch40 → servo2 base (add)
    with BuildSketch(Plane(origin=(0, 13.5, 0), x_dir=(1, 0, 0), z_dir=(0, 1, 0))):
        with Locations((0, 3.4)):
            Rectangle(SKETCH40_W, SKETCH40_H)
    extrude(amount=SERVO2_BASE_DEPTH)

    # Sketch41 → lock support (add)
    with BuildSketch(Plane(origin=(0, 2.5, 0), x_dir=(1, 0, 0), z_dir=(0, 1, 0))):
        Polygon((-22.5, -22.5), (-8.5, -22.5), (-8.5, -8), (-22.5, -8), (-22.5, -17), align=None)
    extrude(amount=LOCK_SUPPORT_DEPTH)

    # Sketch6 → lock cut (cut)
    with BuildSketch(Plane.XY.offset(25)):
        with BuildLine():
            ThreePointArc((-16.15049081, 8.000981053), (-16.643502884, 8.356497116), (-16.999018947, 8.84950919))
            Line((-16.999018947, 8.84950919), (-17.600059711, 8.248468426))
            Line((-17.600059711, 8.248468426), (-16.751531574, 7.399940289))
            Line((-16.751531574, 7.399940289), (-16.15049081, 8.000981053))
        make_face()
        with BuildLine():
            ThreePointArc((-14.44950919, 11.399018947), (-13.956497116, 11.043502884), (-13.600981053, 10.55049081))
            Line((-13.600981053, 10.55049081), (-12.999940289, 11.151531574))
            Line((-12.999940289, 11.151531574), (-13.848468426, 12.000059711))
            Line((-13.848468426, 12.000059711), (-14.44950919, 11.399018947))
        make_face()
        with BuildLine():
            ThreePointArc((-13.4, 9.7), (-13.4509278, 10.136957664), (-13.600981053, 10.55049081))
            ThreePointArc((-13.600981053, 10.55049081), (-13.956497116, 11.043502884), (-14.44950919, 11.399018947))
            ThreePointArc((-14.44950919, 11.399018947), (-16.643502884, 11.043502884), (-16.999018947, 8.84950919))
            ThreePointArc((-16.999018947, 8.84950919), (-16.643502884, 8.356497116), (-16.15049081, 8.000981053))
            ThreePointArc((-16.15049081, 8.000981053), (-14.301484236, 8.083532781), (-13.4, 9.7))
        make_face()
    extrude(amount=-LOCK_CUT_DEPTH, mode=Mode.SUBTRACT)

    # Sketch11 → Spring gap (cut)
    with BuildSketch(Plane.XY.offset(-1.75)):
        with Locations((-15.3, 9.7)):
            Circle(SKETCH11_R)
    extrude(amount=SPRING_GAP_DEPTH, mode=Mode.SUBTRACT)

    # Sketch12 → Flang gap (cut)
    with BuildSketch(Plane.XY.offset(-1.75)):
        with BuildLine():
            Line((-15.3, 9.7), (-14.171286845, 3.298749605))
            ThreePointArc((-14.171286845, 3.298749605), (-20.27928888, 5.521880537), (-21.408002035, 11.923130932))
            Line((-21.408002035, 11.923130932), (-15.3, 9.7))
        make_face()
    extrude(amount=FLANG_GAP_DEPTH, mode=Mode.SUBTRACT)

    # Sketch13 → Lock gap (cut)
    with BuildSketch(Plane.XZ.offset(-5.8)):
        with Locations((-22.75, 0)):
            Rectangle(SKETCH13_W, SKETCH13_H)
    extrude(amount=-LOCK_GAP_DEPTH, mode=Mode.SUBTRACT)

    # Sketch46 → Boss-Extrude9 (add)
    with BuildSketch(Plane(origin=(0, 2.5, 0), x_dir=(1, 0, 0), z_dir=(0, 1, 0))):
        with Locations((11, 18)):
            Rectangle(SKETCH46_W, SKETCH46_H)
    extrude(amount=BOSS_EXTRUDE9_DEPTH)

    # Sketch47 → Cut-Extrude6 (cut, through all)
    with BuildSketch(Plane.XZ.offset(-11.15)):
        with Locations((14.865953144, 0)):
            Rectangle(SKETCH47_W, SKETCH47_H)
    extrude(amount=-CUT_EXTRUDE6_DEPTH, mode=Mode.SUBTRACT)


solid = part.part
